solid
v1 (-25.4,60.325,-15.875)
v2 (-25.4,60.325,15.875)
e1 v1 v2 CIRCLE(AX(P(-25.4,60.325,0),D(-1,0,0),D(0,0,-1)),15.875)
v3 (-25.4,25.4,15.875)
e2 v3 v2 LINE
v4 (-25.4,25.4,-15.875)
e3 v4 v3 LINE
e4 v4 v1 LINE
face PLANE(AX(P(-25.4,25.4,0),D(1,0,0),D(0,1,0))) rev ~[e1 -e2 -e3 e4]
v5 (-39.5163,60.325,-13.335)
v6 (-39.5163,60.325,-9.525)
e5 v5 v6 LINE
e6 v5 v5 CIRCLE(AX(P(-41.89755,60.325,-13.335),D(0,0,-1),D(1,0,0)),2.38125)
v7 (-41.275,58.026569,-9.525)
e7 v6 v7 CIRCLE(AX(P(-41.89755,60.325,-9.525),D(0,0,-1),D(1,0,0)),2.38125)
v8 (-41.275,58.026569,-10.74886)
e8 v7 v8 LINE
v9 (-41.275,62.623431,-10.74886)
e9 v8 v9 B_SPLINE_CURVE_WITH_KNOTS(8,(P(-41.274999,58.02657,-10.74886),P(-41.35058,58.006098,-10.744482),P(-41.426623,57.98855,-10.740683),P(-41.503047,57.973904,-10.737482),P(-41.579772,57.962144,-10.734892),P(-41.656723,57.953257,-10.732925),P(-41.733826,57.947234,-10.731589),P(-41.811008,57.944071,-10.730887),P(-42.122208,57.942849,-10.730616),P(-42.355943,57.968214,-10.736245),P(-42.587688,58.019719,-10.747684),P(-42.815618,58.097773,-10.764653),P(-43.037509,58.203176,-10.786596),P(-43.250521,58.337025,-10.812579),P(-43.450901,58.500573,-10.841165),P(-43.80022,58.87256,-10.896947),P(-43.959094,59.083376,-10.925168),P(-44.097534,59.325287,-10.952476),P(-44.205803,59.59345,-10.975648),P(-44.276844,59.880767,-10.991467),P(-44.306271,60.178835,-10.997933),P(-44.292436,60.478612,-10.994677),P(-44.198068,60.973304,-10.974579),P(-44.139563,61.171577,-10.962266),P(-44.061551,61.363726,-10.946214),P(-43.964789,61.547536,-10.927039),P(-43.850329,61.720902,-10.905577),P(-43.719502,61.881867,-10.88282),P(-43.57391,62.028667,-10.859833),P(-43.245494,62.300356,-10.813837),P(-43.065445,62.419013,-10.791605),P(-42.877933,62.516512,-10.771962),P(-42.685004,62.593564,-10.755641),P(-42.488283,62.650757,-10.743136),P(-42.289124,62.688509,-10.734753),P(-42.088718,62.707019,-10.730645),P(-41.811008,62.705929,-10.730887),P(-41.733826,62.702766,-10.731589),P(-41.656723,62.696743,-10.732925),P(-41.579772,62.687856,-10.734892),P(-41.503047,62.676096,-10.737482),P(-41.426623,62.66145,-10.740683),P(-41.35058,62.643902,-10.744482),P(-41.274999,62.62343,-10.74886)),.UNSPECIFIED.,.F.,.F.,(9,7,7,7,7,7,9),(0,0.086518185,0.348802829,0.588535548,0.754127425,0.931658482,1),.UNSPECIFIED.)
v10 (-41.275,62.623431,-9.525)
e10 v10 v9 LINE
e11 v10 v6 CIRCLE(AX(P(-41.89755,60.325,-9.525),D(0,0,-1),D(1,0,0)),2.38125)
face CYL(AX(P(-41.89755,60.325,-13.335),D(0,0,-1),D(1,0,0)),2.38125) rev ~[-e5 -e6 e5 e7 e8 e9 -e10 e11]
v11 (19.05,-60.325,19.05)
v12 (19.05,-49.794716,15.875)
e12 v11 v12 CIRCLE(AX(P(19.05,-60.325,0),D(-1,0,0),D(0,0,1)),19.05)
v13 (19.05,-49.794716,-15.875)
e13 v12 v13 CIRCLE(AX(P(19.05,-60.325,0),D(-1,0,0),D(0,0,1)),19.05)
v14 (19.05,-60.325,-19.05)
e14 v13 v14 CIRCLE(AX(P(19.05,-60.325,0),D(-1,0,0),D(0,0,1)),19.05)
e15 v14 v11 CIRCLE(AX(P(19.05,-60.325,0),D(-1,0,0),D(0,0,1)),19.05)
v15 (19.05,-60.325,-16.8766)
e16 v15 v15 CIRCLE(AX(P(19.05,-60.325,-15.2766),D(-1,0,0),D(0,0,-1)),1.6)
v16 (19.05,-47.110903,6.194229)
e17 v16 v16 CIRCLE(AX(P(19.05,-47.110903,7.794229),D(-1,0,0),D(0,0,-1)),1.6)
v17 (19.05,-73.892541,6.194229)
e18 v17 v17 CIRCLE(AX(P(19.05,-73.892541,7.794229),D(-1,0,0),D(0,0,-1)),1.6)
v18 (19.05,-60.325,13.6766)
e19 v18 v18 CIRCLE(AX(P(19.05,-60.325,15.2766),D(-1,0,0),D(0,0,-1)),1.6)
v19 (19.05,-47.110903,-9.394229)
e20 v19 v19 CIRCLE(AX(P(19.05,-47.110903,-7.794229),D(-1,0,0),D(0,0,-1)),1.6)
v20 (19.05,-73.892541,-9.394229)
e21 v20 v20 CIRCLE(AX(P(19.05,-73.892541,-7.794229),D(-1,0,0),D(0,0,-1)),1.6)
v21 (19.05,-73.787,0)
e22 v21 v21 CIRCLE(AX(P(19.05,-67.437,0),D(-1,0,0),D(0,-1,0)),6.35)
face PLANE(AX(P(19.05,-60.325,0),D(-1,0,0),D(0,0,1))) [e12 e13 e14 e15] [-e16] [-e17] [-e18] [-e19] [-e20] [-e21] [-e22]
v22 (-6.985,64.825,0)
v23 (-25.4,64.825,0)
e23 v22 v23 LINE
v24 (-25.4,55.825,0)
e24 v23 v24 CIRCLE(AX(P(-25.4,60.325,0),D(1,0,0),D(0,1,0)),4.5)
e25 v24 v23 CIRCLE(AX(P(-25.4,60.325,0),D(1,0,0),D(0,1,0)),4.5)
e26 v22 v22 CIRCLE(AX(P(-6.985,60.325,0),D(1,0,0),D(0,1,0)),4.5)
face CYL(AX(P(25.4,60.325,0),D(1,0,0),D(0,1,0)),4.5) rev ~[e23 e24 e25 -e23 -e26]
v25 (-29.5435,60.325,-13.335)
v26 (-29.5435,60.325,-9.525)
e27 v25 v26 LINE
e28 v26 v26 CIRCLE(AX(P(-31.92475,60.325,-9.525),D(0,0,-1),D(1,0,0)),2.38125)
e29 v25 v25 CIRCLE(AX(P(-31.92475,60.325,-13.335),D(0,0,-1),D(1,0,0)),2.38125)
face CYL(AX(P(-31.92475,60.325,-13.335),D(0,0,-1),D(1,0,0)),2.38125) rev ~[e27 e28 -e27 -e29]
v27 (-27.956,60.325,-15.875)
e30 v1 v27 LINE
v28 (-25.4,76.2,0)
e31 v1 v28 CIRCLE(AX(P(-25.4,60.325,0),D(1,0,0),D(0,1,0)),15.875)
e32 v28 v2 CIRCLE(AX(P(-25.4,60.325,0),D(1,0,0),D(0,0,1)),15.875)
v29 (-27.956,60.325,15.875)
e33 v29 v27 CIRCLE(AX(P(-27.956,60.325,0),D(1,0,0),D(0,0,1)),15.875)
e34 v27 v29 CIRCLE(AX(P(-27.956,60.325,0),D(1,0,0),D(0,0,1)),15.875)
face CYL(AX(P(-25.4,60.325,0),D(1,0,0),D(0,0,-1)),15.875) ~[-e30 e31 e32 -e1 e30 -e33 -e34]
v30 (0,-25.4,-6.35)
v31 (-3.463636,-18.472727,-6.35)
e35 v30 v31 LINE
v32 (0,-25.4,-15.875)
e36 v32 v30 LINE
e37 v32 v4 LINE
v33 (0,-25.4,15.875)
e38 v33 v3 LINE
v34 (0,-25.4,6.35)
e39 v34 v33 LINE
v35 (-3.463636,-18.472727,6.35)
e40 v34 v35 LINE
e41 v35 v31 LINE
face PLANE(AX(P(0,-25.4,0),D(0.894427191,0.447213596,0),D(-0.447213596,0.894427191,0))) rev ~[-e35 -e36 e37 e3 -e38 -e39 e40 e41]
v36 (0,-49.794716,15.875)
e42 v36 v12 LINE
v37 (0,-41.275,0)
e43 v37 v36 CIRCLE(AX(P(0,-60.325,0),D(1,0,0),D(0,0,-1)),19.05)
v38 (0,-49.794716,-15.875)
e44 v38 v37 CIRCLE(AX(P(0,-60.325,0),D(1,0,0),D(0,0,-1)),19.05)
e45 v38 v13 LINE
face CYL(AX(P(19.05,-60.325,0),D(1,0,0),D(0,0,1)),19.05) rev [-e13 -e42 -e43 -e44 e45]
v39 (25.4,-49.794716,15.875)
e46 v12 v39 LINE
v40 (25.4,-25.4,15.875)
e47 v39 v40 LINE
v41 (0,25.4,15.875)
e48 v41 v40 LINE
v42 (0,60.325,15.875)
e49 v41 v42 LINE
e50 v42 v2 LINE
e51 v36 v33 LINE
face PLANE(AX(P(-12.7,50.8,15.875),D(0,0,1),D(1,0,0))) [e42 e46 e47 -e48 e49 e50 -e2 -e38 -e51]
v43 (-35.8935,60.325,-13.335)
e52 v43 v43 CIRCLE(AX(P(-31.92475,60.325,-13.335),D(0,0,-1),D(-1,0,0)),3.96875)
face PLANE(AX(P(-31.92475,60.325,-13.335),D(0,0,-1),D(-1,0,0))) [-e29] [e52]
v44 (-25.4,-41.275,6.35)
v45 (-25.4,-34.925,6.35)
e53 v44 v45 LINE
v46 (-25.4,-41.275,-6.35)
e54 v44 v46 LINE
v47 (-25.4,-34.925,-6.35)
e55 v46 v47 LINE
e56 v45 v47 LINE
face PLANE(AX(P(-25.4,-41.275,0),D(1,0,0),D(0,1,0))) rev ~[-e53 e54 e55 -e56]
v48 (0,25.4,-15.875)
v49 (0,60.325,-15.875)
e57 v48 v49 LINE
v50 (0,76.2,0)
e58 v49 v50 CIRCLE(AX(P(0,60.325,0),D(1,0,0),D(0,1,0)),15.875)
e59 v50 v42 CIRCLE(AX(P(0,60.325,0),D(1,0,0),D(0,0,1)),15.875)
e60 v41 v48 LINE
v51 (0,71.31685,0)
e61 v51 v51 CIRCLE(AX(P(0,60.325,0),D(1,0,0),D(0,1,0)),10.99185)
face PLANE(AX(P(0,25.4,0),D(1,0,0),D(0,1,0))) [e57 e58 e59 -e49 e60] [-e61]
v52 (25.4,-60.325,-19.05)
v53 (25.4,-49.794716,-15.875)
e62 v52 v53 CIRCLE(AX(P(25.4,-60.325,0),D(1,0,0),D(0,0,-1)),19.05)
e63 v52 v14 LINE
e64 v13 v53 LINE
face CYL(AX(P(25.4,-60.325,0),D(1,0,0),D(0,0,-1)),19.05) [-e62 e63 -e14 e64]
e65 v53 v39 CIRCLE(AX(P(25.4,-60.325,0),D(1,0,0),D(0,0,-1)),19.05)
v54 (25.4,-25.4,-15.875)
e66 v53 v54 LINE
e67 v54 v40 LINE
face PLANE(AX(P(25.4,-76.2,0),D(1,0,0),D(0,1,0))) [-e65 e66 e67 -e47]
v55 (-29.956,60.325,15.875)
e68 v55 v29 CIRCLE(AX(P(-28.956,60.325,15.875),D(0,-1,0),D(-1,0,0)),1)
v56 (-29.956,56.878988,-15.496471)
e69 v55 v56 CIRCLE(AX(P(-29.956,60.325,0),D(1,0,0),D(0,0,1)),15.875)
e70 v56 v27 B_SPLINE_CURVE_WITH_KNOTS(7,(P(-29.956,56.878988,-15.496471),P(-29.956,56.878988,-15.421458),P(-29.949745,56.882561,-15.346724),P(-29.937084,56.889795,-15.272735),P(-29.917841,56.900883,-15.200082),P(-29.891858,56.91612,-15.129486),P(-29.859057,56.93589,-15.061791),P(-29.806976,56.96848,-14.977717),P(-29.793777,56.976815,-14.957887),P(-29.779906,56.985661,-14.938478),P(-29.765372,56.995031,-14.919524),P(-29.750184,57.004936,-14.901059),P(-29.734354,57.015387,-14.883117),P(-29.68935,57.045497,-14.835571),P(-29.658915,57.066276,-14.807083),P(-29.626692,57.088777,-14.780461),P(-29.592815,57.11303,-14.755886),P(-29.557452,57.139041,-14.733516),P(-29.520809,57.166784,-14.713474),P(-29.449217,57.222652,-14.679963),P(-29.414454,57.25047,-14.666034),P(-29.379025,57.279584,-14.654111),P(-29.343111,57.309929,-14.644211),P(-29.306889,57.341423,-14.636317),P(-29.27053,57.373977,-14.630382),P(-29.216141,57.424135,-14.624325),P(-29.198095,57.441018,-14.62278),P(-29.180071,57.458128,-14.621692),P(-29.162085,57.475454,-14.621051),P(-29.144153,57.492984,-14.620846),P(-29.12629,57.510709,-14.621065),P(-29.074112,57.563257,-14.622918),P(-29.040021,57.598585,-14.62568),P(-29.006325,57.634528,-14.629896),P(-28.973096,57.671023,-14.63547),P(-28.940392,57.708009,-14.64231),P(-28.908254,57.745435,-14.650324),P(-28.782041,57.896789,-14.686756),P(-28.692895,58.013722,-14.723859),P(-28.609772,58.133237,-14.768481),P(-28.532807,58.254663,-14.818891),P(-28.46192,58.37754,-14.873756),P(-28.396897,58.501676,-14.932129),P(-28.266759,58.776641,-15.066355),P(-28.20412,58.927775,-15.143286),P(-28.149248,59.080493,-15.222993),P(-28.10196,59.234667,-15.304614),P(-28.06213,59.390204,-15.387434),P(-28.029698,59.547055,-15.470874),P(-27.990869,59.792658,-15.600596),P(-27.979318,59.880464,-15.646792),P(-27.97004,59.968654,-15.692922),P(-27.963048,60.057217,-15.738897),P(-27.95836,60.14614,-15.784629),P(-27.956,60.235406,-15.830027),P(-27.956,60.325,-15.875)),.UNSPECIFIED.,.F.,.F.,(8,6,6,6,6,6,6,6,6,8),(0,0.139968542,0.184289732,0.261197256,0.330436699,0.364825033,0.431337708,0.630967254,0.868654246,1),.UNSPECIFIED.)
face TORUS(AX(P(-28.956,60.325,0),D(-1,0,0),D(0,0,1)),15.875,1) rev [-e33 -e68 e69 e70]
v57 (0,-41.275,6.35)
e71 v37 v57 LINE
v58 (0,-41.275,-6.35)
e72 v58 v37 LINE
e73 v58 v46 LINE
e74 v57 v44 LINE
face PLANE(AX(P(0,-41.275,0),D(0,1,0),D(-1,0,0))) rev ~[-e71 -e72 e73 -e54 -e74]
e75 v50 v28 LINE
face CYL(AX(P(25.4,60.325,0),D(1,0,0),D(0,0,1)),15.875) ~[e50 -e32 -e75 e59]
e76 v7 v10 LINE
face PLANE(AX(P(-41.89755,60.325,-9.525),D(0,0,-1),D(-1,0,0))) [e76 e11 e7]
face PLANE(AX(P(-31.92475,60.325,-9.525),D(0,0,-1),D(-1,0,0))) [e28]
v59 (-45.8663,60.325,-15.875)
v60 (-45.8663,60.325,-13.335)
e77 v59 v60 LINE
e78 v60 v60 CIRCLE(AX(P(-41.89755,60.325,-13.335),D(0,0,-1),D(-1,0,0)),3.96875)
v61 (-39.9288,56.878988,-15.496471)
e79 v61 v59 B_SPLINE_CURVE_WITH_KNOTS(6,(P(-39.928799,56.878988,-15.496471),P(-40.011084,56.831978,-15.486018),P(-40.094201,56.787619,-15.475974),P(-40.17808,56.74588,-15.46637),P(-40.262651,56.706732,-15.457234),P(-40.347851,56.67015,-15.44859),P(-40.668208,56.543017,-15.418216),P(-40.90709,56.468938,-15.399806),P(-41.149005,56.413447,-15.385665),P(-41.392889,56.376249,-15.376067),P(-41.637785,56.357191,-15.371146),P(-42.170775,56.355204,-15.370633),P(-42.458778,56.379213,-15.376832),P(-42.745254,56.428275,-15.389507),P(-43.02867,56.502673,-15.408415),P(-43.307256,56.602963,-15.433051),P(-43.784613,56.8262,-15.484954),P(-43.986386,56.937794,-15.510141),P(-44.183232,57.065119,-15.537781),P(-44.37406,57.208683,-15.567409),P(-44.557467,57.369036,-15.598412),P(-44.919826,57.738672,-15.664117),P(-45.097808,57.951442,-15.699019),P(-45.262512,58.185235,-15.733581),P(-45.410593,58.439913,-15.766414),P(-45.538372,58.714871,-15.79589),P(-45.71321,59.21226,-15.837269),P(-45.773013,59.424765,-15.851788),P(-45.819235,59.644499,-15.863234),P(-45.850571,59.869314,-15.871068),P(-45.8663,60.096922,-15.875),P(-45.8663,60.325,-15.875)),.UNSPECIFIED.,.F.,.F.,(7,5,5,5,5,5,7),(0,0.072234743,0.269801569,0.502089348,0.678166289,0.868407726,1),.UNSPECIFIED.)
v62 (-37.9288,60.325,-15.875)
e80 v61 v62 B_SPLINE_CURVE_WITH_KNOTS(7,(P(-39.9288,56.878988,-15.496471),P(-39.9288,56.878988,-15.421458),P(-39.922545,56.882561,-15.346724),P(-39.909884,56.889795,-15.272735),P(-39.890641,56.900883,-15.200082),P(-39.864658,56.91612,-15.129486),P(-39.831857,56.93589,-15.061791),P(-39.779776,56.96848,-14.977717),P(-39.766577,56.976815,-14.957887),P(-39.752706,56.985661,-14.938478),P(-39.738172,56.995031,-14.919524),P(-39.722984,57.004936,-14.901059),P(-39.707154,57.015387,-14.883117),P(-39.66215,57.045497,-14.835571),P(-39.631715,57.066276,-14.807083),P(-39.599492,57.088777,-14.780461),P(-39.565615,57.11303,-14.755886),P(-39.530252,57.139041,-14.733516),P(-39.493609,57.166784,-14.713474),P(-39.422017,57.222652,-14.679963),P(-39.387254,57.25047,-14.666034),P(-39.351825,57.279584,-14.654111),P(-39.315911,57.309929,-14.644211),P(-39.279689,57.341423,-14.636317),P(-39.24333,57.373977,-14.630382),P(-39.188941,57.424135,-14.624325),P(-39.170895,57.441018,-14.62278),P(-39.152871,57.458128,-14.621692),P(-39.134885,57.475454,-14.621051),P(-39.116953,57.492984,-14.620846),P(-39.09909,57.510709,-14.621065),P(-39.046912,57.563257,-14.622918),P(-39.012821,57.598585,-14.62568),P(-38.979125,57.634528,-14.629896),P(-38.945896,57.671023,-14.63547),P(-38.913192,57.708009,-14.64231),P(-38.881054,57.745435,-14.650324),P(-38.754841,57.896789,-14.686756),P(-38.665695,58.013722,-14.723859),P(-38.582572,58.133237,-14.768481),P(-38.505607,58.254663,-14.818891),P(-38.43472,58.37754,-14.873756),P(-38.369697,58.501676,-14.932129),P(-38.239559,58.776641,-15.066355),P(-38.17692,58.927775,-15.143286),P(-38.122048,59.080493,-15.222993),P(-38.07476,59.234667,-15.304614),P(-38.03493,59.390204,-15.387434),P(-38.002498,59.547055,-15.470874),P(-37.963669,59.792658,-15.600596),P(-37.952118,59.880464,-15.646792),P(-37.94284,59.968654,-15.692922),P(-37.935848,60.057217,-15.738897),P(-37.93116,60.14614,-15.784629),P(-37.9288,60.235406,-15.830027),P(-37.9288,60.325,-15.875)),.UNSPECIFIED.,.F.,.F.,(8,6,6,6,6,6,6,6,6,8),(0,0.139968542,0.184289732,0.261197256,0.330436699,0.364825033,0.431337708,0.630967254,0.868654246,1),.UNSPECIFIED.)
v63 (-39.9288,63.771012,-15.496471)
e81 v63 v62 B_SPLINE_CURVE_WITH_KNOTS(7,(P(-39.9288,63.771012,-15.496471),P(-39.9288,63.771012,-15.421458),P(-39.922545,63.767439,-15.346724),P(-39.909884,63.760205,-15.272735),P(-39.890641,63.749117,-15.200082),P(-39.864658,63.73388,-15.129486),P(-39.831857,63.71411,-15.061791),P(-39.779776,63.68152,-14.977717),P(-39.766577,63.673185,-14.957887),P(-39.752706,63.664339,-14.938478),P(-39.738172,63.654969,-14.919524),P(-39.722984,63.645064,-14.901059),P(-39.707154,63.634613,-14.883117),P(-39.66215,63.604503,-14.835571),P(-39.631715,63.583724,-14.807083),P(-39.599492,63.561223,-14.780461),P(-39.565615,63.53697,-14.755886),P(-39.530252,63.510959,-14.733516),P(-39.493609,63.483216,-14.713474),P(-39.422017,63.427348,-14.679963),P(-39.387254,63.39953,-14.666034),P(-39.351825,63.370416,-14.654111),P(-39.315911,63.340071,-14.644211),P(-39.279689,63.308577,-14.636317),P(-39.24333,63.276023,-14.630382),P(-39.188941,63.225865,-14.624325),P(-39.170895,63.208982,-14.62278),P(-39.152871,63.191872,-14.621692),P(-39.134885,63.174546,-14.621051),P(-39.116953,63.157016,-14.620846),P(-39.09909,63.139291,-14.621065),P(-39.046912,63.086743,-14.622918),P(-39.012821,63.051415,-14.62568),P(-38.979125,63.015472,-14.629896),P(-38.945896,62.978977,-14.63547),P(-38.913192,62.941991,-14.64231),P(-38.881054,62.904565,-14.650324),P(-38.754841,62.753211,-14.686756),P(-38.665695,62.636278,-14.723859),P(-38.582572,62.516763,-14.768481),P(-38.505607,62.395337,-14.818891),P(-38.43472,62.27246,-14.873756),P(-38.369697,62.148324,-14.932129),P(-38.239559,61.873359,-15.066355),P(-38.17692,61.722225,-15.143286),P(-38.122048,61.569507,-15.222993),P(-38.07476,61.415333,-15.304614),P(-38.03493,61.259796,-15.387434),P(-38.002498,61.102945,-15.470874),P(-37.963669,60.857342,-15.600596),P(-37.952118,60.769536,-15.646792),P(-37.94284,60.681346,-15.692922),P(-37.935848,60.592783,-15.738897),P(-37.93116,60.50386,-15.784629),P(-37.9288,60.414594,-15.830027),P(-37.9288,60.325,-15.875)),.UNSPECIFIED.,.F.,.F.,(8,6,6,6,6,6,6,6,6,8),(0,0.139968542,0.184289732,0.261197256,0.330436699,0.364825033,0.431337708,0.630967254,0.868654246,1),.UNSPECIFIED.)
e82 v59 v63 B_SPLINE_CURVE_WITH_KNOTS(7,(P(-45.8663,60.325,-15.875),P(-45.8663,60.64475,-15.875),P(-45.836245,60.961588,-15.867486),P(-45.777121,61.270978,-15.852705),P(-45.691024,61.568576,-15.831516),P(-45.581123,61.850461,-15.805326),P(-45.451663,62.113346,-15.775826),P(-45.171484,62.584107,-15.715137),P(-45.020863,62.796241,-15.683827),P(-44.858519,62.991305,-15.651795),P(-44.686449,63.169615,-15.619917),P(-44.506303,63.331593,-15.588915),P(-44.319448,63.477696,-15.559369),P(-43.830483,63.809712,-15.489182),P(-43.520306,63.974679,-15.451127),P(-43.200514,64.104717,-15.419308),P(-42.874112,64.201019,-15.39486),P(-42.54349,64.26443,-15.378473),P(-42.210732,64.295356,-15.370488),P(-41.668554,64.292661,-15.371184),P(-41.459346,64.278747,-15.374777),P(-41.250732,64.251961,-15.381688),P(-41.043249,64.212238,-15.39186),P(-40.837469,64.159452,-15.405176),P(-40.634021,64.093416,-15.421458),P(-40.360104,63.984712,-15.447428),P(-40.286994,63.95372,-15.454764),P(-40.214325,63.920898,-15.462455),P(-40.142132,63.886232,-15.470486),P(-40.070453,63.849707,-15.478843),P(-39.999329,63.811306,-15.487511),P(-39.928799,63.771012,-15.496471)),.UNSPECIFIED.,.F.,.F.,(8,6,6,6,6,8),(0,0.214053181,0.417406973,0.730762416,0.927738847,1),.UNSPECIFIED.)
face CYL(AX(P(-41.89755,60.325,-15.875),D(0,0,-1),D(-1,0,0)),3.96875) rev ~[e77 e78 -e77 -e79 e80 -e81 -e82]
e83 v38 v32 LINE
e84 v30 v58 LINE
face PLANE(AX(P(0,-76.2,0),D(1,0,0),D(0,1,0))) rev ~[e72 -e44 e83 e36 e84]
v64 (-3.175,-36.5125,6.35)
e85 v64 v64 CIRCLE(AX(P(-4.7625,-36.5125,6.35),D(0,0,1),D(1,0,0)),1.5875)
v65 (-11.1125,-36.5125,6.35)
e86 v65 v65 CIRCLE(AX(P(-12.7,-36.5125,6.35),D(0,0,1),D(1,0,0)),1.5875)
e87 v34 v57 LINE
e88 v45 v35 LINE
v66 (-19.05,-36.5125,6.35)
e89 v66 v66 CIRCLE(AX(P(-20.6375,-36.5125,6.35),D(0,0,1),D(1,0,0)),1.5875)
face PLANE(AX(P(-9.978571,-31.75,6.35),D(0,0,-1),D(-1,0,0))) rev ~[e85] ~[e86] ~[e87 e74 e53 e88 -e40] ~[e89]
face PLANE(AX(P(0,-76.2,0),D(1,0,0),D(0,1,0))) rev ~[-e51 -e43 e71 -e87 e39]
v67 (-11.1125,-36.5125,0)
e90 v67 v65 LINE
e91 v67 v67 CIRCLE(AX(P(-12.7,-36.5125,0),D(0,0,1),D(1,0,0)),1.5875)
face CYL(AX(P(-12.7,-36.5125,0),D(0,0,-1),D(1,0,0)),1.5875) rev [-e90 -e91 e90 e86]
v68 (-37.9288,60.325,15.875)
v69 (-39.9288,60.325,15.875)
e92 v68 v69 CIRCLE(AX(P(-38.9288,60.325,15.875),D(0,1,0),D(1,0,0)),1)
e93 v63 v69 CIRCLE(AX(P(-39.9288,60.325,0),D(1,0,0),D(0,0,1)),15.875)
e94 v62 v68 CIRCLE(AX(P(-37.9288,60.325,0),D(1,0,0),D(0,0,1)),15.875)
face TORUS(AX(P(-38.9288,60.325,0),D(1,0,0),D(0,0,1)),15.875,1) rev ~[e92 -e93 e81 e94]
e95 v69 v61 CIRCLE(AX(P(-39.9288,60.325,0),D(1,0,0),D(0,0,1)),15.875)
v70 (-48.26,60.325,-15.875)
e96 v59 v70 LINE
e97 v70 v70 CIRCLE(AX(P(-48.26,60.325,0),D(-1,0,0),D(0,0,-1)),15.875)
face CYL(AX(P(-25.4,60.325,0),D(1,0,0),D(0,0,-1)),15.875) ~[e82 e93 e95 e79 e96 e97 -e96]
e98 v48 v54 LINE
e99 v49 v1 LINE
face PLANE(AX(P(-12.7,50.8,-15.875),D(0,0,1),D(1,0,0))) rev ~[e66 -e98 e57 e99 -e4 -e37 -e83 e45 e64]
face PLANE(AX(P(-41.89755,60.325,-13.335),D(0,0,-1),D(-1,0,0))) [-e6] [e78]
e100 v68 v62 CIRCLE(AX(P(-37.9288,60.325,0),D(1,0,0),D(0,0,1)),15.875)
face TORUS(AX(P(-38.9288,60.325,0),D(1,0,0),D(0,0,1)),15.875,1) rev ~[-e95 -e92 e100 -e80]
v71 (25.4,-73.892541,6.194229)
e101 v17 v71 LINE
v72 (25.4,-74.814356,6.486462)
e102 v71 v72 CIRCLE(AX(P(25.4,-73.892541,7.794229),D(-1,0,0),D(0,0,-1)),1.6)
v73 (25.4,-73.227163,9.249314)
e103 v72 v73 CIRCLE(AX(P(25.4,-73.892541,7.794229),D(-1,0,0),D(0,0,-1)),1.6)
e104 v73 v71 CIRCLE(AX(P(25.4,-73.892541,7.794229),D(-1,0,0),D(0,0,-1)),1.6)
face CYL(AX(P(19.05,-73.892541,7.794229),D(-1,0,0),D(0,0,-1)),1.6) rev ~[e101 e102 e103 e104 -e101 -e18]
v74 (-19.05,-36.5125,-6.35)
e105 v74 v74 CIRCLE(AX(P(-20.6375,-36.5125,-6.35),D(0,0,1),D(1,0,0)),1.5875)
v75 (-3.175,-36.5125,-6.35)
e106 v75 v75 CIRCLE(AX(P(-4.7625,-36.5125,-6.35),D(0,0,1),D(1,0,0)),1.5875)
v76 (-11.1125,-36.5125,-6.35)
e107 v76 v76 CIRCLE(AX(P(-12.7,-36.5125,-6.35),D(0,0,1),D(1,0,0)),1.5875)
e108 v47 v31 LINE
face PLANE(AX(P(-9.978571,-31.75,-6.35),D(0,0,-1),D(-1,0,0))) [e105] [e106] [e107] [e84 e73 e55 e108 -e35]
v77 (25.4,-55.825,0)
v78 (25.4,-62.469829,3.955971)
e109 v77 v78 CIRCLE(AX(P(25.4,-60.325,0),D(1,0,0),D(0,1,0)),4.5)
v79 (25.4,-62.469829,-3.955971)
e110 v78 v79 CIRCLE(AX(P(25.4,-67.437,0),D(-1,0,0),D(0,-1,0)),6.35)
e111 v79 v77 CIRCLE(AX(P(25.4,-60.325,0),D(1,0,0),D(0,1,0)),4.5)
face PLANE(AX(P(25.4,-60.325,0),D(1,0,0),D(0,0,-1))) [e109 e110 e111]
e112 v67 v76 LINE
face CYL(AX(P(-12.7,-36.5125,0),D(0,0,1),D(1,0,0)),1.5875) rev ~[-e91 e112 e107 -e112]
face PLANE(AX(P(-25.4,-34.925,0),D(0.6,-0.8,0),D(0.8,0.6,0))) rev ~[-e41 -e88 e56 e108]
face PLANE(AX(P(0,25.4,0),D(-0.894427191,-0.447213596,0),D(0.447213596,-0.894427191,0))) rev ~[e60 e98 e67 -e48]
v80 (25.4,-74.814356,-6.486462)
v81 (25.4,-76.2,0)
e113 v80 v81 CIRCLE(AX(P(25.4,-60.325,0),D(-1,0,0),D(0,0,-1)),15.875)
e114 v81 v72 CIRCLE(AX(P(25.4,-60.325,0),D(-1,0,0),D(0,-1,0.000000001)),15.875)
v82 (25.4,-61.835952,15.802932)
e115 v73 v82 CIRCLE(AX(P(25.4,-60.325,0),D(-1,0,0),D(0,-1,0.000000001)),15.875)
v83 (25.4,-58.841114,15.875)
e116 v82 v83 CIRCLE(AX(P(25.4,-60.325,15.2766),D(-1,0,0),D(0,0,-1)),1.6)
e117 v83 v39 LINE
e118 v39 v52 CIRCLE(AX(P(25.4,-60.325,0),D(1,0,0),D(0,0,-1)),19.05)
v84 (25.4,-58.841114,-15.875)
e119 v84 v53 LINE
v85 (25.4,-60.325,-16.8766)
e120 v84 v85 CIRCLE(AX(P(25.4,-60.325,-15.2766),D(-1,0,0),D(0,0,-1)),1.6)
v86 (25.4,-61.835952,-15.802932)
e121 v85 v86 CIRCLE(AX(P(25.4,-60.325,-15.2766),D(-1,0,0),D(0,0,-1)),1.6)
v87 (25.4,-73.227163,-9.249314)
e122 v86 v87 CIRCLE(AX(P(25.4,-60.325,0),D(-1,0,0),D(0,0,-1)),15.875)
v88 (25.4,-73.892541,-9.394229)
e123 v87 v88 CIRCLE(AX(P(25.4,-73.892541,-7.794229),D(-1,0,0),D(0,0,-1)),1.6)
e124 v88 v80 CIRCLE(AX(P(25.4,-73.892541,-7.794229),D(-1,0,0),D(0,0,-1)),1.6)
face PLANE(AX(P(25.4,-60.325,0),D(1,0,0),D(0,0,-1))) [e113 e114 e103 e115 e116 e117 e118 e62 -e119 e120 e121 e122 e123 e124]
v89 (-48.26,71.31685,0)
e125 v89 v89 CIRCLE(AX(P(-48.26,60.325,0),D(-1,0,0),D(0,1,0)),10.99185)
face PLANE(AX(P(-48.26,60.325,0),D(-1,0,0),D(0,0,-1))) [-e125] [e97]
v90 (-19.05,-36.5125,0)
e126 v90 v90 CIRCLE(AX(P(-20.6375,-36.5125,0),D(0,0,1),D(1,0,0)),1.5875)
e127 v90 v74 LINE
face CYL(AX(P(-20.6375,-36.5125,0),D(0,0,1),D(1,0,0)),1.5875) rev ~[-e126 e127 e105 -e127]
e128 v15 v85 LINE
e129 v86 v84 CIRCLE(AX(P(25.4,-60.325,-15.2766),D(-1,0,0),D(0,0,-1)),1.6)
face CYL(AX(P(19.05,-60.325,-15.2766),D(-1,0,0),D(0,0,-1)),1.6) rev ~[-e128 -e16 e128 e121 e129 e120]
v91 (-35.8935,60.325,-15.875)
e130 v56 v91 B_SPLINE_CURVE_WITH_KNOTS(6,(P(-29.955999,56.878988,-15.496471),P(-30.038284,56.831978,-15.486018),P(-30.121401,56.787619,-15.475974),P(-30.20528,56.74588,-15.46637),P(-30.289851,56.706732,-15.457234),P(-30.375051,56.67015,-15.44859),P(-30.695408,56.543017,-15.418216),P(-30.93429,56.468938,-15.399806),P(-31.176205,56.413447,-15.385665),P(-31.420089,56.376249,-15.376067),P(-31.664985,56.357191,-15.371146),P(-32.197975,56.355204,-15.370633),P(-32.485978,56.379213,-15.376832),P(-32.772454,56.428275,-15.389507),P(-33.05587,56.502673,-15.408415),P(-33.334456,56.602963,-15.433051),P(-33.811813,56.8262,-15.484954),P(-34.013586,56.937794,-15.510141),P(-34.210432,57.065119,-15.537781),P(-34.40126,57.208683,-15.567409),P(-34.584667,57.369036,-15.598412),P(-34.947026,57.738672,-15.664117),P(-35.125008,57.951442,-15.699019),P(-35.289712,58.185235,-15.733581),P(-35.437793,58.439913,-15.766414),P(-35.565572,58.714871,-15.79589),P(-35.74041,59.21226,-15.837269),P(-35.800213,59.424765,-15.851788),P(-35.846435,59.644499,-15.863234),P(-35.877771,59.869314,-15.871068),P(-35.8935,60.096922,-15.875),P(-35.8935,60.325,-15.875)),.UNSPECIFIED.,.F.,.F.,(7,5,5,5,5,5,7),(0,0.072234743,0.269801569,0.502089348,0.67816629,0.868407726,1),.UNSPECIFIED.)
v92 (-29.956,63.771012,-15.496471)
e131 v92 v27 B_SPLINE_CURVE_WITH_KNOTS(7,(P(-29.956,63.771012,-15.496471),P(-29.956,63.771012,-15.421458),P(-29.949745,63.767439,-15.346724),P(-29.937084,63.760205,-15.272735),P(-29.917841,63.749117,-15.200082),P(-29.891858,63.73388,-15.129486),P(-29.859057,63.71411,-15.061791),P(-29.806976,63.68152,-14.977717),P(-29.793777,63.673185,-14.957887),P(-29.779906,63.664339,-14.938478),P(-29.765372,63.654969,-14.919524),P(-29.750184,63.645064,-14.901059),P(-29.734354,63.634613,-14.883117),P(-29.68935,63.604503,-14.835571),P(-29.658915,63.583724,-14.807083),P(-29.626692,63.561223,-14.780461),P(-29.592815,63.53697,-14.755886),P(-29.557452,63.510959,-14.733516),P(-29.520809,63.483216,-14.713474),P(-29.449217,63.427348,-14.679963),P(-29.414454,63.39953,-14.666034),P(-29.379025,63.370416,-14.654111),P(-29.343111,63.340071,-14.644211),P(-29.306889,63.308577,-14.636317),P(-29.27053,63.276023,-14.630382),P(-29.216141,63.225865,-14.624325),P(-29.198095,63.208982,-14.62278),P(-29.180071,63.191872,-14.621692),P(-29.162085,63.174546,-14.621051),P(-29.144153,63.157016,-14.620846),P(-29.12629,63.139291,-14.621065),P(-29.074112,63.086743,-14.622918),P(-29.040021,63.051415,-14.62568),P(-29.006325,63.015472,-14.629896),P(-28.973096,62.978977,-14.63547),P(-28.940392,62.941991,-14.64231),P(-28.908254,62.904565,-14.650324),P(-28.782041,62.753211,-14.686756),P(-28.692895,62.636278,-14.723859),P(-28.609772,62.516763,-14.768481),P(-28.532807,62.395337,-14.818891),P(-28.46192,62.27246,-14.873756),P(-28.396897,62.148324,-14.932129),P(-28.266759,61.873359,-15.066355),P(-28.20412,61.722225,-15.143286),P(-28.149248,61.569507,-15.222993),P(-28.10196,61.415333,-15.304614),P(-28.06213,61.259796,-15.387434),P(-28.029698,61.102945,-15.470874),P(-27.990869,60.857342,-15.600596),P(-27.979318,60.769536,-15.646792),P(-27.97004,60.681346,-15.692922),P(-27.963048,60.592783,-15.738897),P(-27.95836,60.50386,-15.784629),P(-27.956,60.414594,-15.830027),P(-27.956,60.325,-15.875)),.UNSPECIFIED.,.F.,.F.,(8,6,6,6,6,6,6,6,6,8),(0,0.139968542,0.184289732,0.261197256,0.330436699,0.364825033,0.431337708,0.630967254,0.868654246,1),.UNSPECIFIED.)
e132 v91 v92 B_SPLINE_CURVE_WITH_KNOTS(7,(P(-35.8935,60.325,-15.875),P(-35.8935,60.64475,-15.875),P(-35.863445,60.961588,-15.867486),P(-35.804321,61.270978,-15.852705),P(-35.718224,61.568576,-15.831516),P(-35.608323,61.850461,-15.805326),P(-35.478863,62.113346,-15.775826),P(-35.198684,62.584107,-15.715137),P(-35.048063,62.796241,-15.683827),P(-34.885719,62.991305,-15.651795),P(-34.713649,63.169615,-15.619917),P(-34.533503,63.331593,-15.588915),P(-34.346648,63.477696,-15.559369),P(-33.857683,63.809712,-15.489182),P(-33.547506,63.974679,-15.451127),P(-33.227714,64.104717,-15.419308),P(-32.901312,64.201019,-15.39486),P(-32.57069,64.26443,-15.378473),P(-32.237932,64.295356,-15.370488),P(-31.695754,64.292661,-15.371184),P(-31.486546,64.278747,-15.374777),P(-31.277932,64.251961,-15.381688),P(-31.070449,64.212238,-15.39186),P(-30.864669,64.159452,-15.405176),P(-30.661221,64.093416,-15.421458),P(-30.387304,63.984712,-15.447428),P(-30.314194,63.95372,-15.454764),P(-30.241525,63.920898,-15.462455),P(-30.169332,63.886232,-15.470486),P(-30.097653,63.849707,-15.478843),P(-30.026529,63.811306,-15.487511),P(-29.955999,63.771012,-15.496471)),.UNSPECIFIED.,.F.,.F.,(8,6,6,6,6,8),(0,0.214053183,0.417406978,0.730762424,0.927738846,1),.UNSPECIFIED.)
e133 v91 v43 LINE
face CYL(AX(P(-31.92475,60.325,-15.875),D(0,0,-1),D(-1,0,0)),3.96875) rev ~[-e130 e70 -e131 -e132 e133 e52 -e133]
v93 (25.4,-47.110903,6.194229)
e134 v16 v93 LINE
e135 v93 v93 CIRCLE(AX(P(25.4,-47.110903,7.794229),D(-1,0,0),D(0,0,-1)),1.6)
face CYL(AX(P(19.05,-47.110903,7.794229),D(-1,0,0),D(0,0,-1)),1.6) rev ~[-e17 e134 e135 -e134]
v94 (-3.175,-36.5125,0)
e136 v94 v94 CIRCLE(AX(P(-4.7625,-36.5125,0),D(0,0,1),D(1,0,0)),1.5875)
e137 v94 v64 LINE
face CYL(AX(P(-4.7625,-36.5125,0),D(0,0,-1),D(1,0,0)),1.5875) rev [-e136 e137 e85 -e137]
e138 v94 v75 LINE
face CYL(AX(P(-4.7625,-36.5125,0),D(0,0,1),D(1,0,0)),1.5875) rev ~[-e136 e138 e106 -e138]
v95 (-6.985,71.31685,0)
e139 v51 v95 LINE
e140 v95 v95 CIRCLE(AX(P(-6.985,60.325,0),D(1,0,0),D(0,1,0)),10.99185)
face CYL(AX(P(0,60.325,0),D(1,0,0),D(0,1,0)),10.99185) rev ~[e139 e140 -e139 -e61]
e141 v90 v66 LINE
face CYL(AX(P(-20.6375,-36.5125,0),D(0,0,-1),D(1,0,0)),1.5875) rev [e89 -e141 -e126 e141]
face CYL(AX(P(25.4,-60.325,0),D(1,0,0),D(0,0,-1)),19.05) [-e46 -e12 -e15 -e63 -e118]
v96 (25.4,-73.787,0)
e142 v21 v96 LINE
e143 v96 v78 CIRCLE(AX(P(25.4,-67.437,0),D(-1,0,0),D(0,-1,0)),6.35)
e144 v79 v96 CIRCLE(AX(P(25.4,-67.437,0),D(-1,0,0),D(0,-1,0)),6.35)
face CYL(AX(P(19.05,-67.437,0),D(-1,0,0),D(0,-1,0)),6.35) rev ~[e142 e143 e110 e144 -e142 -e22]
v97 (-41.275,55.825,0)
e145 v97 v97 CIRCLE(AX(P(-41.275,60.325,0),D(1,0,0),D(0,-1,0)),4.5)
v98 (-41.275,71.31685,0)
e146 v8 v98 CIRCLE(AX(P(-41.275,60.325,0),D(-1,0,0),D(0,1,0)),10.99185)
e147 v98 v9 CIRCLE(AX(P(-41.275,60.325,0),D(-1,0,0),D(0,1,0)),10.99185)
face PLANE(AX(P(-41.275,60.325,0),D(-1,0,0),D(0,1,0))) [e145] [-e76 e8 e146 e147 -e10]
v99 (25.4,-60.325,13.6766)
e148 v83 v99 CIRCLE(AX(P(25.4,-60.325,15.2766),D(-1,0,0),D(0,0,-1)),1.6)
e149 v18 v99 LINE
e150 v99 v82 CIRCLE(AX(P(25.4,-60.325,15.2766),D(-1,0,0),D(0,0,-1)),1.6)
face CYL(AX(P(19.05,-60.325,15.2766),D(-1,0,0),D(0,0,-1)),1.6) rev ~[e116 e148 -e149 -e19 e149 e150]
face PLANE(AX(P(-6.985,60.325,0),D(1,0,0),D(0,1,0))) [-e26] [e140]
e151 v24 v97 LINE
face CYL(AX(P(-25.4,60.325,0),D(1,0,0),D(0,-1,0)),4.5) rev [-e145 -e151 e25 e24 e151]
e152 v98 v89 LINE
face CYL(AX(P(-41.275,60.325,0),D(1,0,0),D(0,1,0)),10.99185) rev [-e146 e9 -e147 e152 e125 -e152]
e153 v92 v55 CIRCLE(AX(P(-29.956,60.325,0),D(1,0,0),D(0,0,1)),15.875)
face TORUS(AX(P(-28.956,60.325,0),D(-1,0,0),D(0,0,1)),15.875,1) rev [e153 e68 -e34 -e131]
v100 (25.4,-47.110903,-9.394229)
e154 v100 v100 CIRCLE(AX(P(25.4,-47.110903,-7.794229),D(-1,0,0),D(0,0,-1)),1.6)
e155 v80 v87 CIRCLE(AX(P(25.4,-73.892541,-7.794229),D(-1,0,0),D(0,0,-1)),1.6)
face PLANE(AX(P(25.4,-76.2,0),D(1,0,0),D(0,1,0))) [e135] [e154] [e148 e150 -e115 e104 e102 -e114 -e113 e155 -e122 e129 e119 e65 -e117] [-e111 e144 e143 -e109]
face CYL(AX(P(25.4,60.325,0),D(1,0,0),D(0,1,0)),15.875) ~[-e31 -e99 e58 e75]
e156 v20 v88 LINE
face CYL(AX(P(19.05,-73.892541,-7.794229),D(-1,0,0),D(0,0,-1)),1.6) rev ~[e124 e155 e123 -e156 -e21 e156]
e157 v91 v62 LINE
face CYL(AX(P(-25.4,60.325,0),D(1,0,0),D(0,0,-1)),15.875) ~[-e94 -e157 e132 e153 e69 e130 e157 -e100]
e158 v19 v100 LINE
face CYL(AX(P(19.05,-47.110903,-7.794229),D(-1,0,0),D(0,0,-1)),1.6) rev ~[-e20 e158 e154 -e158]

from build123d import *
from build123d.topology import SkipClean

# Parameters (mm, degrees)
SKETCH1_W           = 25.4
SKETCH1_H           = 50.8
BOSS_EXTRUDE1_DEPTH = 15.875
SKETCH2_R           = 4.5
CUT_EXTRUDE1_DEPTH  = 93.946735419
SKETCH3_R           = 15.875
SKETCH3_R_2         = 4.5
BOSS_EXTRUDE2_DEPTH = 22.86
SKETCH5_R           = 3.96875
CUT_EXTRUDE2_DEPTH  = 6.35
BOSS_EXTRUDE3_START = 3.81
SKETCH6_R           = 3.96875
SKETCH6_R_2         = 2.38125
BOSS_EXTRUDE3_DEPTH = 3.81
SKETCH8_R           = 19.05
BOSS_EXTRUDE4_DEPTH = 25.4
CUT_EXTRUDE3_START  = -19.05
SKETCH9_R           = 19.05
CUT_EXTRUDE3_DEPTH  = 19.05
SKETCH10_R          = 6.35
CUT_EXTRUDE4_DEPTH  = 19.05
F_3DSKETCH1_R       = 1.6
CUT_EXTRUDE5_DEPTH  = 25.4
SKETCH12_R          = 1.5875
BOSS_EXTRUDE5_DEPTH = 6.35
SKETCH13_R          = 10.99185
CUT_EXTRUDE6_DEPTH  = 6.985
CUT_EXTRUDE7_START  = -6.985
SKETCH14_R          = 10.99185
CUT_EXTRUDE7_DEPTH  = 6.985


with BuildPart() as part:
    # Sketch1 → Boss-Extrude1 (new, symmetric)
    with BuildSketch(Plane.XY):
        with Locations((-12.7, 50.8)):
            Rectangle(SKETCH1_W, SKETCH1_H)
        Polygon((0, 25.4), (25.4, -25.4), (0, -25.4), (-25.4, 25.4), align=None)
        with Locations((12.7, -50.8)):
            Rectangle(SKETCH1_W, SKETCH1_H)
    extrude(amount=BOSS_EXTRUDE1_DEPTH, both=True)

    # Sketch2 → Cut-Extrude1 (cut, through all)
    with BuildSketch(Plane(origin=(25.4, 0, 0), x_dir=(0, 0, -1), z_dir=(1, 0, 0))):
        with BuildLine():
            Line((-15.875, 76.2), (-15.875, 60.325))
            ThreePointArc((-15.875, 60.325), (-11.225320151, 71.550320151), (0, 76.2))
            Line((0, 76.2), (-15.875, 76.2))
        make_face()
        with BuildLine():
            Line((15.875, 76.2), (0, 76.2))
            ThreePointArc((0, 76.2), (11.225320151, 71.550320151), (15.875, 60.325))
            Line((15.875, 60.325), (15.875, 76.2))
        make_face()
        with Locations(Location((0, 60.325, 0), (0, 0, 90))):
            Circle(SKETCH2_R)
        with Locations(Location((0, -60.325, 0), (0, 0, 90))):
            Circle(SKETCH2_R)
        with BuildLine():
            ThreePointArc((-1.7e-08, -76.2), (-11.225320157, -71.550320145), (-15.875, -60.325))
            Line((-15.875, -60.325), (-15.875, -76.2))
            Line((-15.875, -76.2), (-1.7e-08, -76.2))
        make_face()
        with BuildLine():
            ThreePointArc((15.875, -60.325), (11.225320145, -71.550320157), (-1.7e-08, -76.2))
            Line((-1.7e-08, -76.2), (15.875, -76.2))
            Line((15.875, -76.2), (15.875, -60.325))
        make_face()
    extrude(amount=-CUT_EXTRUDE1_DEPTH, mode=Mode.SUBTRACT)

    # Sketch3 → Boss-Extrude2 (add)
    with SkipClean():  # the faces are left unmerged after this step: merging them gives an invalid solid
        with BuildSketch(Plane.ZY.offset(25.4)):
            with Locations(Location((0, 60.325, 0), (0, 0, 180))):
                Circle(SKETCH3_R)
            with Locations(Location((0, 60.325, 0), (0, 0, 270))):
                Circle(SKETCH3_R_2, mode=Mode.SUBTRACT)
        extrude(amount=BOSS_EXTRUDE2_DEPTH)

    # Sketch4 → Cut-Revolve1 (revolve, cut)
    with SkipClean():  # the faces are left unmerged after this step: merging them gives an invalid solid
        with BuildSketch(Plane.XY, mode=Mode.PRIVATE) as cut_revolve1_sk:
            with BuildLine():
                Line((-27.956, 76.2), (-29.956, 76.2))
                ThreePointArc((-29.956, 76.2), (-28.956, 75.2), (-27.956, 76.2))
            make_face()
            with BuildLine():
                Line((-39.9288, 76.2), (-37.9288, 76.2))
                ThreePointArc((-37.9288, 76.2), (-38.9288, 75.2), (-39.9288, 76.2))
            make_face()
        revolve(cut_revolve1_sk.sketch.rotate(Axis((-49.341870541, 60.325, 0), (1, 0, 0)), 90), axis=Axis((-49.341870541, 60.325, 0), (1, 0, 0)), mode=Mode.SUBTRACT)

    # Sketch5 → Cut-Extrude2 (cut)
    with SkipClean():  # the faces are left unmerged after this step: merging them gives an invalid solid
        with BuildSketch(Plane(origin=(0, 0, -15.875), x_dir=(-1, 0, 0), z_dir=(0, 0, -1))):
            with Locations((31.92475, 60.325)):
                Circle(SKETCH5_R)
            with Locations((41.89755, 60.325)):
                Circle(SKETCH5_R)
        extrude(amount=-CUT_EXTRUDE2_DEPTH, mode=Mode.SUBTRACT)

    # Sketch6 → Boss-Extrude3 (add)
    # profile 1 of 2: a face of its own
    with SkipClean():  # the faces are left unmerged after this step: merging them gives an invalid solid
        with BuildSketch(Plane(origin=(0, 0, -9.525), x_dir=(-1, 0, 0), z_dir=(0, 0, -1)).offset(BOSS_EXTRUDE3_START)):
            with Locations((31.92475, 60.325)):
                Circle(SKETCH6_R)
            with Locations(Location((31.92475, 60.325, 0), (0, 0, 180))):
                Circle(SKETCH6_R_2, mode=Mode.SUBTRACT)
        # profile 2 of 2: a face of its own
        with BuildSketch(Plane(origin=(0, 0, -9.525), x_dir=(-1, 0, 0), z_dir=(0, 0, -1)).offset(BOSS_EXTRUDE3_START)):
            with Locations((41.89755, 60.325)):
                Circle(SKETCH6_R)
            with Locations(Location((41.89755, 60.325, 0), (0, 0, 180))):
                Circle(SKETCH6_R_2, mode=Mode.SUBTRACT)
        extrude(amount=-BOSS_EXTRUDE3_DEPTH)

    # Sketch8 → Boss-Extrude4 (add)
    with SkipClean():  # the faces are left unmerged after this step: merging them gives an invalid solid
        with BuildSketch(Plane(origin=(25.4, 0, 0), x_dir=(0, 0, -1), z_dir=(1, 0, 0))):
            with Locations((0, -60.325)):
                Circle(SKETCH8_R)
        extrude(amount=-BOSS_EXTRUDE4_DEPTH)

    # Sketch9 → Cut-Extrude3 (cut)
    with SkipClean():  # the faces are left unmerged after this step: merging them gives an invalid solid
        with BuildSketch(Plane.ZY.offset(CUT_EXTRUDE3_START)):
            with Locations((0, -60.325)):
                Circle(SKETCH9_R)
        extrude(amount=CUT_EXTRUDE3_DEPTH, mode=Mode.SUBTRACT)

    # Sketch10 → Cut-Extrude4 (cut)
    with SkipClean():  # the faces are left unmerged after this step: merging them gives an invalid solid
        with BuildSketch(Plane.ZY.offset(-19.05)):
            with Locations(Location((0, -67.437, 0), (0, 0, 270))):
                Circle(SKETCH10_R)
        extrude(amount=-CUT_EXTRUDE4_DEPTH, mode=Mode.SUBTRACT)

    # 3DSketch1 → Cut-Extrude5 (cut)
    with SkipClean():  # the faces are left unmerged after this step: merging them gives an invalid solid
        with BuildSketch(Plane(origin=(19.05, -60.325, 15.2766), x_dir=(0, 0, -1), z_dir=(-1, 0, 0))):
            Circle(F_3DSKETCH1_R)
            with Locations((7.482370685, 13.567540858)):
                Circle(F_3DSKETCH1_R)
            with Locations((7.482370685, -13.214096537)):
                Circle(F_3DSKETCH1_R)
            with Locations((23.070829315, -13.214096537)):
                Circle(F_3DSKETCH1_R)
            with Locations((30.5532, 0)):
                Circle(F_3DSKETCH1_R)
            with Locations((23.070829315, 13.567540858)):
                Circle(F_3DSKETCH1_R)
        extrude(amount=-CUT_EXTRUDE5_DEPTH, mode=Mode.SUBTRACT)

    # Sketch12 → Boss-Extrude5 (add, symmetric)
    with SkipClean():  # the faces are left unmerged after this step: merging them gives an invalid solid
        with BuildSketch(Plane.XY):
            Polygon((0, -41.275), (-25.4, -41.275), (-25.4, -34.925), (0, -15.875), align=None)
            with Locations((-20.6375, -36.5125)):
                Circle(SKETCH12_R, mode=Mode.SUBTRACT)
            with Locations((-12.7, -36.5125)):
                Circle(SKETCH12_R, mode=Mode.SUBTRACT)
            with Locations((-4.7625, -36.5125)):
                Circle(SKETCH12_R, mode=Mode.SUBTRACT)
        extrude(amount=BOSS_EXTRUDE5_DEPTH, both=True)

    # Sketch13 → Cut-Extrude6 (cut)
    with SkipClean():  # the faces are left unmerged after this step: merging them gives an invalid solid
        with BuildSketch(Plane(origin=(0, 0, 0), x_dir=(0, 0, -1), z_dir=(1, 0, 0))):
            with Locations(Location((0, 60.325, 0), (0, 0, 90))):
                Circle(SKETCH13_R)
        extrude(amount=-CUT_EXTRUDE6_DEPTH, mode=Mode.SUBTRACT)

    # Sketch14 → Cut-Extrude7 (cut)
    with SkipClean():  # the faces are left unmerged after this step: merging them gives an invalid solid
        with BuildSketch(Plane.ZY.offset(48.26).offset(CUT_EXTRUDE7_START)):
            with Locations(Location((0, 60.325, 0), (0, 0, 90))):
                Circle(SKETCH14_R)
        extrude(amount=CUT_EXTRUDE7_DEPTH, mode=Mode.SUBTRACT)


solid = part.part
